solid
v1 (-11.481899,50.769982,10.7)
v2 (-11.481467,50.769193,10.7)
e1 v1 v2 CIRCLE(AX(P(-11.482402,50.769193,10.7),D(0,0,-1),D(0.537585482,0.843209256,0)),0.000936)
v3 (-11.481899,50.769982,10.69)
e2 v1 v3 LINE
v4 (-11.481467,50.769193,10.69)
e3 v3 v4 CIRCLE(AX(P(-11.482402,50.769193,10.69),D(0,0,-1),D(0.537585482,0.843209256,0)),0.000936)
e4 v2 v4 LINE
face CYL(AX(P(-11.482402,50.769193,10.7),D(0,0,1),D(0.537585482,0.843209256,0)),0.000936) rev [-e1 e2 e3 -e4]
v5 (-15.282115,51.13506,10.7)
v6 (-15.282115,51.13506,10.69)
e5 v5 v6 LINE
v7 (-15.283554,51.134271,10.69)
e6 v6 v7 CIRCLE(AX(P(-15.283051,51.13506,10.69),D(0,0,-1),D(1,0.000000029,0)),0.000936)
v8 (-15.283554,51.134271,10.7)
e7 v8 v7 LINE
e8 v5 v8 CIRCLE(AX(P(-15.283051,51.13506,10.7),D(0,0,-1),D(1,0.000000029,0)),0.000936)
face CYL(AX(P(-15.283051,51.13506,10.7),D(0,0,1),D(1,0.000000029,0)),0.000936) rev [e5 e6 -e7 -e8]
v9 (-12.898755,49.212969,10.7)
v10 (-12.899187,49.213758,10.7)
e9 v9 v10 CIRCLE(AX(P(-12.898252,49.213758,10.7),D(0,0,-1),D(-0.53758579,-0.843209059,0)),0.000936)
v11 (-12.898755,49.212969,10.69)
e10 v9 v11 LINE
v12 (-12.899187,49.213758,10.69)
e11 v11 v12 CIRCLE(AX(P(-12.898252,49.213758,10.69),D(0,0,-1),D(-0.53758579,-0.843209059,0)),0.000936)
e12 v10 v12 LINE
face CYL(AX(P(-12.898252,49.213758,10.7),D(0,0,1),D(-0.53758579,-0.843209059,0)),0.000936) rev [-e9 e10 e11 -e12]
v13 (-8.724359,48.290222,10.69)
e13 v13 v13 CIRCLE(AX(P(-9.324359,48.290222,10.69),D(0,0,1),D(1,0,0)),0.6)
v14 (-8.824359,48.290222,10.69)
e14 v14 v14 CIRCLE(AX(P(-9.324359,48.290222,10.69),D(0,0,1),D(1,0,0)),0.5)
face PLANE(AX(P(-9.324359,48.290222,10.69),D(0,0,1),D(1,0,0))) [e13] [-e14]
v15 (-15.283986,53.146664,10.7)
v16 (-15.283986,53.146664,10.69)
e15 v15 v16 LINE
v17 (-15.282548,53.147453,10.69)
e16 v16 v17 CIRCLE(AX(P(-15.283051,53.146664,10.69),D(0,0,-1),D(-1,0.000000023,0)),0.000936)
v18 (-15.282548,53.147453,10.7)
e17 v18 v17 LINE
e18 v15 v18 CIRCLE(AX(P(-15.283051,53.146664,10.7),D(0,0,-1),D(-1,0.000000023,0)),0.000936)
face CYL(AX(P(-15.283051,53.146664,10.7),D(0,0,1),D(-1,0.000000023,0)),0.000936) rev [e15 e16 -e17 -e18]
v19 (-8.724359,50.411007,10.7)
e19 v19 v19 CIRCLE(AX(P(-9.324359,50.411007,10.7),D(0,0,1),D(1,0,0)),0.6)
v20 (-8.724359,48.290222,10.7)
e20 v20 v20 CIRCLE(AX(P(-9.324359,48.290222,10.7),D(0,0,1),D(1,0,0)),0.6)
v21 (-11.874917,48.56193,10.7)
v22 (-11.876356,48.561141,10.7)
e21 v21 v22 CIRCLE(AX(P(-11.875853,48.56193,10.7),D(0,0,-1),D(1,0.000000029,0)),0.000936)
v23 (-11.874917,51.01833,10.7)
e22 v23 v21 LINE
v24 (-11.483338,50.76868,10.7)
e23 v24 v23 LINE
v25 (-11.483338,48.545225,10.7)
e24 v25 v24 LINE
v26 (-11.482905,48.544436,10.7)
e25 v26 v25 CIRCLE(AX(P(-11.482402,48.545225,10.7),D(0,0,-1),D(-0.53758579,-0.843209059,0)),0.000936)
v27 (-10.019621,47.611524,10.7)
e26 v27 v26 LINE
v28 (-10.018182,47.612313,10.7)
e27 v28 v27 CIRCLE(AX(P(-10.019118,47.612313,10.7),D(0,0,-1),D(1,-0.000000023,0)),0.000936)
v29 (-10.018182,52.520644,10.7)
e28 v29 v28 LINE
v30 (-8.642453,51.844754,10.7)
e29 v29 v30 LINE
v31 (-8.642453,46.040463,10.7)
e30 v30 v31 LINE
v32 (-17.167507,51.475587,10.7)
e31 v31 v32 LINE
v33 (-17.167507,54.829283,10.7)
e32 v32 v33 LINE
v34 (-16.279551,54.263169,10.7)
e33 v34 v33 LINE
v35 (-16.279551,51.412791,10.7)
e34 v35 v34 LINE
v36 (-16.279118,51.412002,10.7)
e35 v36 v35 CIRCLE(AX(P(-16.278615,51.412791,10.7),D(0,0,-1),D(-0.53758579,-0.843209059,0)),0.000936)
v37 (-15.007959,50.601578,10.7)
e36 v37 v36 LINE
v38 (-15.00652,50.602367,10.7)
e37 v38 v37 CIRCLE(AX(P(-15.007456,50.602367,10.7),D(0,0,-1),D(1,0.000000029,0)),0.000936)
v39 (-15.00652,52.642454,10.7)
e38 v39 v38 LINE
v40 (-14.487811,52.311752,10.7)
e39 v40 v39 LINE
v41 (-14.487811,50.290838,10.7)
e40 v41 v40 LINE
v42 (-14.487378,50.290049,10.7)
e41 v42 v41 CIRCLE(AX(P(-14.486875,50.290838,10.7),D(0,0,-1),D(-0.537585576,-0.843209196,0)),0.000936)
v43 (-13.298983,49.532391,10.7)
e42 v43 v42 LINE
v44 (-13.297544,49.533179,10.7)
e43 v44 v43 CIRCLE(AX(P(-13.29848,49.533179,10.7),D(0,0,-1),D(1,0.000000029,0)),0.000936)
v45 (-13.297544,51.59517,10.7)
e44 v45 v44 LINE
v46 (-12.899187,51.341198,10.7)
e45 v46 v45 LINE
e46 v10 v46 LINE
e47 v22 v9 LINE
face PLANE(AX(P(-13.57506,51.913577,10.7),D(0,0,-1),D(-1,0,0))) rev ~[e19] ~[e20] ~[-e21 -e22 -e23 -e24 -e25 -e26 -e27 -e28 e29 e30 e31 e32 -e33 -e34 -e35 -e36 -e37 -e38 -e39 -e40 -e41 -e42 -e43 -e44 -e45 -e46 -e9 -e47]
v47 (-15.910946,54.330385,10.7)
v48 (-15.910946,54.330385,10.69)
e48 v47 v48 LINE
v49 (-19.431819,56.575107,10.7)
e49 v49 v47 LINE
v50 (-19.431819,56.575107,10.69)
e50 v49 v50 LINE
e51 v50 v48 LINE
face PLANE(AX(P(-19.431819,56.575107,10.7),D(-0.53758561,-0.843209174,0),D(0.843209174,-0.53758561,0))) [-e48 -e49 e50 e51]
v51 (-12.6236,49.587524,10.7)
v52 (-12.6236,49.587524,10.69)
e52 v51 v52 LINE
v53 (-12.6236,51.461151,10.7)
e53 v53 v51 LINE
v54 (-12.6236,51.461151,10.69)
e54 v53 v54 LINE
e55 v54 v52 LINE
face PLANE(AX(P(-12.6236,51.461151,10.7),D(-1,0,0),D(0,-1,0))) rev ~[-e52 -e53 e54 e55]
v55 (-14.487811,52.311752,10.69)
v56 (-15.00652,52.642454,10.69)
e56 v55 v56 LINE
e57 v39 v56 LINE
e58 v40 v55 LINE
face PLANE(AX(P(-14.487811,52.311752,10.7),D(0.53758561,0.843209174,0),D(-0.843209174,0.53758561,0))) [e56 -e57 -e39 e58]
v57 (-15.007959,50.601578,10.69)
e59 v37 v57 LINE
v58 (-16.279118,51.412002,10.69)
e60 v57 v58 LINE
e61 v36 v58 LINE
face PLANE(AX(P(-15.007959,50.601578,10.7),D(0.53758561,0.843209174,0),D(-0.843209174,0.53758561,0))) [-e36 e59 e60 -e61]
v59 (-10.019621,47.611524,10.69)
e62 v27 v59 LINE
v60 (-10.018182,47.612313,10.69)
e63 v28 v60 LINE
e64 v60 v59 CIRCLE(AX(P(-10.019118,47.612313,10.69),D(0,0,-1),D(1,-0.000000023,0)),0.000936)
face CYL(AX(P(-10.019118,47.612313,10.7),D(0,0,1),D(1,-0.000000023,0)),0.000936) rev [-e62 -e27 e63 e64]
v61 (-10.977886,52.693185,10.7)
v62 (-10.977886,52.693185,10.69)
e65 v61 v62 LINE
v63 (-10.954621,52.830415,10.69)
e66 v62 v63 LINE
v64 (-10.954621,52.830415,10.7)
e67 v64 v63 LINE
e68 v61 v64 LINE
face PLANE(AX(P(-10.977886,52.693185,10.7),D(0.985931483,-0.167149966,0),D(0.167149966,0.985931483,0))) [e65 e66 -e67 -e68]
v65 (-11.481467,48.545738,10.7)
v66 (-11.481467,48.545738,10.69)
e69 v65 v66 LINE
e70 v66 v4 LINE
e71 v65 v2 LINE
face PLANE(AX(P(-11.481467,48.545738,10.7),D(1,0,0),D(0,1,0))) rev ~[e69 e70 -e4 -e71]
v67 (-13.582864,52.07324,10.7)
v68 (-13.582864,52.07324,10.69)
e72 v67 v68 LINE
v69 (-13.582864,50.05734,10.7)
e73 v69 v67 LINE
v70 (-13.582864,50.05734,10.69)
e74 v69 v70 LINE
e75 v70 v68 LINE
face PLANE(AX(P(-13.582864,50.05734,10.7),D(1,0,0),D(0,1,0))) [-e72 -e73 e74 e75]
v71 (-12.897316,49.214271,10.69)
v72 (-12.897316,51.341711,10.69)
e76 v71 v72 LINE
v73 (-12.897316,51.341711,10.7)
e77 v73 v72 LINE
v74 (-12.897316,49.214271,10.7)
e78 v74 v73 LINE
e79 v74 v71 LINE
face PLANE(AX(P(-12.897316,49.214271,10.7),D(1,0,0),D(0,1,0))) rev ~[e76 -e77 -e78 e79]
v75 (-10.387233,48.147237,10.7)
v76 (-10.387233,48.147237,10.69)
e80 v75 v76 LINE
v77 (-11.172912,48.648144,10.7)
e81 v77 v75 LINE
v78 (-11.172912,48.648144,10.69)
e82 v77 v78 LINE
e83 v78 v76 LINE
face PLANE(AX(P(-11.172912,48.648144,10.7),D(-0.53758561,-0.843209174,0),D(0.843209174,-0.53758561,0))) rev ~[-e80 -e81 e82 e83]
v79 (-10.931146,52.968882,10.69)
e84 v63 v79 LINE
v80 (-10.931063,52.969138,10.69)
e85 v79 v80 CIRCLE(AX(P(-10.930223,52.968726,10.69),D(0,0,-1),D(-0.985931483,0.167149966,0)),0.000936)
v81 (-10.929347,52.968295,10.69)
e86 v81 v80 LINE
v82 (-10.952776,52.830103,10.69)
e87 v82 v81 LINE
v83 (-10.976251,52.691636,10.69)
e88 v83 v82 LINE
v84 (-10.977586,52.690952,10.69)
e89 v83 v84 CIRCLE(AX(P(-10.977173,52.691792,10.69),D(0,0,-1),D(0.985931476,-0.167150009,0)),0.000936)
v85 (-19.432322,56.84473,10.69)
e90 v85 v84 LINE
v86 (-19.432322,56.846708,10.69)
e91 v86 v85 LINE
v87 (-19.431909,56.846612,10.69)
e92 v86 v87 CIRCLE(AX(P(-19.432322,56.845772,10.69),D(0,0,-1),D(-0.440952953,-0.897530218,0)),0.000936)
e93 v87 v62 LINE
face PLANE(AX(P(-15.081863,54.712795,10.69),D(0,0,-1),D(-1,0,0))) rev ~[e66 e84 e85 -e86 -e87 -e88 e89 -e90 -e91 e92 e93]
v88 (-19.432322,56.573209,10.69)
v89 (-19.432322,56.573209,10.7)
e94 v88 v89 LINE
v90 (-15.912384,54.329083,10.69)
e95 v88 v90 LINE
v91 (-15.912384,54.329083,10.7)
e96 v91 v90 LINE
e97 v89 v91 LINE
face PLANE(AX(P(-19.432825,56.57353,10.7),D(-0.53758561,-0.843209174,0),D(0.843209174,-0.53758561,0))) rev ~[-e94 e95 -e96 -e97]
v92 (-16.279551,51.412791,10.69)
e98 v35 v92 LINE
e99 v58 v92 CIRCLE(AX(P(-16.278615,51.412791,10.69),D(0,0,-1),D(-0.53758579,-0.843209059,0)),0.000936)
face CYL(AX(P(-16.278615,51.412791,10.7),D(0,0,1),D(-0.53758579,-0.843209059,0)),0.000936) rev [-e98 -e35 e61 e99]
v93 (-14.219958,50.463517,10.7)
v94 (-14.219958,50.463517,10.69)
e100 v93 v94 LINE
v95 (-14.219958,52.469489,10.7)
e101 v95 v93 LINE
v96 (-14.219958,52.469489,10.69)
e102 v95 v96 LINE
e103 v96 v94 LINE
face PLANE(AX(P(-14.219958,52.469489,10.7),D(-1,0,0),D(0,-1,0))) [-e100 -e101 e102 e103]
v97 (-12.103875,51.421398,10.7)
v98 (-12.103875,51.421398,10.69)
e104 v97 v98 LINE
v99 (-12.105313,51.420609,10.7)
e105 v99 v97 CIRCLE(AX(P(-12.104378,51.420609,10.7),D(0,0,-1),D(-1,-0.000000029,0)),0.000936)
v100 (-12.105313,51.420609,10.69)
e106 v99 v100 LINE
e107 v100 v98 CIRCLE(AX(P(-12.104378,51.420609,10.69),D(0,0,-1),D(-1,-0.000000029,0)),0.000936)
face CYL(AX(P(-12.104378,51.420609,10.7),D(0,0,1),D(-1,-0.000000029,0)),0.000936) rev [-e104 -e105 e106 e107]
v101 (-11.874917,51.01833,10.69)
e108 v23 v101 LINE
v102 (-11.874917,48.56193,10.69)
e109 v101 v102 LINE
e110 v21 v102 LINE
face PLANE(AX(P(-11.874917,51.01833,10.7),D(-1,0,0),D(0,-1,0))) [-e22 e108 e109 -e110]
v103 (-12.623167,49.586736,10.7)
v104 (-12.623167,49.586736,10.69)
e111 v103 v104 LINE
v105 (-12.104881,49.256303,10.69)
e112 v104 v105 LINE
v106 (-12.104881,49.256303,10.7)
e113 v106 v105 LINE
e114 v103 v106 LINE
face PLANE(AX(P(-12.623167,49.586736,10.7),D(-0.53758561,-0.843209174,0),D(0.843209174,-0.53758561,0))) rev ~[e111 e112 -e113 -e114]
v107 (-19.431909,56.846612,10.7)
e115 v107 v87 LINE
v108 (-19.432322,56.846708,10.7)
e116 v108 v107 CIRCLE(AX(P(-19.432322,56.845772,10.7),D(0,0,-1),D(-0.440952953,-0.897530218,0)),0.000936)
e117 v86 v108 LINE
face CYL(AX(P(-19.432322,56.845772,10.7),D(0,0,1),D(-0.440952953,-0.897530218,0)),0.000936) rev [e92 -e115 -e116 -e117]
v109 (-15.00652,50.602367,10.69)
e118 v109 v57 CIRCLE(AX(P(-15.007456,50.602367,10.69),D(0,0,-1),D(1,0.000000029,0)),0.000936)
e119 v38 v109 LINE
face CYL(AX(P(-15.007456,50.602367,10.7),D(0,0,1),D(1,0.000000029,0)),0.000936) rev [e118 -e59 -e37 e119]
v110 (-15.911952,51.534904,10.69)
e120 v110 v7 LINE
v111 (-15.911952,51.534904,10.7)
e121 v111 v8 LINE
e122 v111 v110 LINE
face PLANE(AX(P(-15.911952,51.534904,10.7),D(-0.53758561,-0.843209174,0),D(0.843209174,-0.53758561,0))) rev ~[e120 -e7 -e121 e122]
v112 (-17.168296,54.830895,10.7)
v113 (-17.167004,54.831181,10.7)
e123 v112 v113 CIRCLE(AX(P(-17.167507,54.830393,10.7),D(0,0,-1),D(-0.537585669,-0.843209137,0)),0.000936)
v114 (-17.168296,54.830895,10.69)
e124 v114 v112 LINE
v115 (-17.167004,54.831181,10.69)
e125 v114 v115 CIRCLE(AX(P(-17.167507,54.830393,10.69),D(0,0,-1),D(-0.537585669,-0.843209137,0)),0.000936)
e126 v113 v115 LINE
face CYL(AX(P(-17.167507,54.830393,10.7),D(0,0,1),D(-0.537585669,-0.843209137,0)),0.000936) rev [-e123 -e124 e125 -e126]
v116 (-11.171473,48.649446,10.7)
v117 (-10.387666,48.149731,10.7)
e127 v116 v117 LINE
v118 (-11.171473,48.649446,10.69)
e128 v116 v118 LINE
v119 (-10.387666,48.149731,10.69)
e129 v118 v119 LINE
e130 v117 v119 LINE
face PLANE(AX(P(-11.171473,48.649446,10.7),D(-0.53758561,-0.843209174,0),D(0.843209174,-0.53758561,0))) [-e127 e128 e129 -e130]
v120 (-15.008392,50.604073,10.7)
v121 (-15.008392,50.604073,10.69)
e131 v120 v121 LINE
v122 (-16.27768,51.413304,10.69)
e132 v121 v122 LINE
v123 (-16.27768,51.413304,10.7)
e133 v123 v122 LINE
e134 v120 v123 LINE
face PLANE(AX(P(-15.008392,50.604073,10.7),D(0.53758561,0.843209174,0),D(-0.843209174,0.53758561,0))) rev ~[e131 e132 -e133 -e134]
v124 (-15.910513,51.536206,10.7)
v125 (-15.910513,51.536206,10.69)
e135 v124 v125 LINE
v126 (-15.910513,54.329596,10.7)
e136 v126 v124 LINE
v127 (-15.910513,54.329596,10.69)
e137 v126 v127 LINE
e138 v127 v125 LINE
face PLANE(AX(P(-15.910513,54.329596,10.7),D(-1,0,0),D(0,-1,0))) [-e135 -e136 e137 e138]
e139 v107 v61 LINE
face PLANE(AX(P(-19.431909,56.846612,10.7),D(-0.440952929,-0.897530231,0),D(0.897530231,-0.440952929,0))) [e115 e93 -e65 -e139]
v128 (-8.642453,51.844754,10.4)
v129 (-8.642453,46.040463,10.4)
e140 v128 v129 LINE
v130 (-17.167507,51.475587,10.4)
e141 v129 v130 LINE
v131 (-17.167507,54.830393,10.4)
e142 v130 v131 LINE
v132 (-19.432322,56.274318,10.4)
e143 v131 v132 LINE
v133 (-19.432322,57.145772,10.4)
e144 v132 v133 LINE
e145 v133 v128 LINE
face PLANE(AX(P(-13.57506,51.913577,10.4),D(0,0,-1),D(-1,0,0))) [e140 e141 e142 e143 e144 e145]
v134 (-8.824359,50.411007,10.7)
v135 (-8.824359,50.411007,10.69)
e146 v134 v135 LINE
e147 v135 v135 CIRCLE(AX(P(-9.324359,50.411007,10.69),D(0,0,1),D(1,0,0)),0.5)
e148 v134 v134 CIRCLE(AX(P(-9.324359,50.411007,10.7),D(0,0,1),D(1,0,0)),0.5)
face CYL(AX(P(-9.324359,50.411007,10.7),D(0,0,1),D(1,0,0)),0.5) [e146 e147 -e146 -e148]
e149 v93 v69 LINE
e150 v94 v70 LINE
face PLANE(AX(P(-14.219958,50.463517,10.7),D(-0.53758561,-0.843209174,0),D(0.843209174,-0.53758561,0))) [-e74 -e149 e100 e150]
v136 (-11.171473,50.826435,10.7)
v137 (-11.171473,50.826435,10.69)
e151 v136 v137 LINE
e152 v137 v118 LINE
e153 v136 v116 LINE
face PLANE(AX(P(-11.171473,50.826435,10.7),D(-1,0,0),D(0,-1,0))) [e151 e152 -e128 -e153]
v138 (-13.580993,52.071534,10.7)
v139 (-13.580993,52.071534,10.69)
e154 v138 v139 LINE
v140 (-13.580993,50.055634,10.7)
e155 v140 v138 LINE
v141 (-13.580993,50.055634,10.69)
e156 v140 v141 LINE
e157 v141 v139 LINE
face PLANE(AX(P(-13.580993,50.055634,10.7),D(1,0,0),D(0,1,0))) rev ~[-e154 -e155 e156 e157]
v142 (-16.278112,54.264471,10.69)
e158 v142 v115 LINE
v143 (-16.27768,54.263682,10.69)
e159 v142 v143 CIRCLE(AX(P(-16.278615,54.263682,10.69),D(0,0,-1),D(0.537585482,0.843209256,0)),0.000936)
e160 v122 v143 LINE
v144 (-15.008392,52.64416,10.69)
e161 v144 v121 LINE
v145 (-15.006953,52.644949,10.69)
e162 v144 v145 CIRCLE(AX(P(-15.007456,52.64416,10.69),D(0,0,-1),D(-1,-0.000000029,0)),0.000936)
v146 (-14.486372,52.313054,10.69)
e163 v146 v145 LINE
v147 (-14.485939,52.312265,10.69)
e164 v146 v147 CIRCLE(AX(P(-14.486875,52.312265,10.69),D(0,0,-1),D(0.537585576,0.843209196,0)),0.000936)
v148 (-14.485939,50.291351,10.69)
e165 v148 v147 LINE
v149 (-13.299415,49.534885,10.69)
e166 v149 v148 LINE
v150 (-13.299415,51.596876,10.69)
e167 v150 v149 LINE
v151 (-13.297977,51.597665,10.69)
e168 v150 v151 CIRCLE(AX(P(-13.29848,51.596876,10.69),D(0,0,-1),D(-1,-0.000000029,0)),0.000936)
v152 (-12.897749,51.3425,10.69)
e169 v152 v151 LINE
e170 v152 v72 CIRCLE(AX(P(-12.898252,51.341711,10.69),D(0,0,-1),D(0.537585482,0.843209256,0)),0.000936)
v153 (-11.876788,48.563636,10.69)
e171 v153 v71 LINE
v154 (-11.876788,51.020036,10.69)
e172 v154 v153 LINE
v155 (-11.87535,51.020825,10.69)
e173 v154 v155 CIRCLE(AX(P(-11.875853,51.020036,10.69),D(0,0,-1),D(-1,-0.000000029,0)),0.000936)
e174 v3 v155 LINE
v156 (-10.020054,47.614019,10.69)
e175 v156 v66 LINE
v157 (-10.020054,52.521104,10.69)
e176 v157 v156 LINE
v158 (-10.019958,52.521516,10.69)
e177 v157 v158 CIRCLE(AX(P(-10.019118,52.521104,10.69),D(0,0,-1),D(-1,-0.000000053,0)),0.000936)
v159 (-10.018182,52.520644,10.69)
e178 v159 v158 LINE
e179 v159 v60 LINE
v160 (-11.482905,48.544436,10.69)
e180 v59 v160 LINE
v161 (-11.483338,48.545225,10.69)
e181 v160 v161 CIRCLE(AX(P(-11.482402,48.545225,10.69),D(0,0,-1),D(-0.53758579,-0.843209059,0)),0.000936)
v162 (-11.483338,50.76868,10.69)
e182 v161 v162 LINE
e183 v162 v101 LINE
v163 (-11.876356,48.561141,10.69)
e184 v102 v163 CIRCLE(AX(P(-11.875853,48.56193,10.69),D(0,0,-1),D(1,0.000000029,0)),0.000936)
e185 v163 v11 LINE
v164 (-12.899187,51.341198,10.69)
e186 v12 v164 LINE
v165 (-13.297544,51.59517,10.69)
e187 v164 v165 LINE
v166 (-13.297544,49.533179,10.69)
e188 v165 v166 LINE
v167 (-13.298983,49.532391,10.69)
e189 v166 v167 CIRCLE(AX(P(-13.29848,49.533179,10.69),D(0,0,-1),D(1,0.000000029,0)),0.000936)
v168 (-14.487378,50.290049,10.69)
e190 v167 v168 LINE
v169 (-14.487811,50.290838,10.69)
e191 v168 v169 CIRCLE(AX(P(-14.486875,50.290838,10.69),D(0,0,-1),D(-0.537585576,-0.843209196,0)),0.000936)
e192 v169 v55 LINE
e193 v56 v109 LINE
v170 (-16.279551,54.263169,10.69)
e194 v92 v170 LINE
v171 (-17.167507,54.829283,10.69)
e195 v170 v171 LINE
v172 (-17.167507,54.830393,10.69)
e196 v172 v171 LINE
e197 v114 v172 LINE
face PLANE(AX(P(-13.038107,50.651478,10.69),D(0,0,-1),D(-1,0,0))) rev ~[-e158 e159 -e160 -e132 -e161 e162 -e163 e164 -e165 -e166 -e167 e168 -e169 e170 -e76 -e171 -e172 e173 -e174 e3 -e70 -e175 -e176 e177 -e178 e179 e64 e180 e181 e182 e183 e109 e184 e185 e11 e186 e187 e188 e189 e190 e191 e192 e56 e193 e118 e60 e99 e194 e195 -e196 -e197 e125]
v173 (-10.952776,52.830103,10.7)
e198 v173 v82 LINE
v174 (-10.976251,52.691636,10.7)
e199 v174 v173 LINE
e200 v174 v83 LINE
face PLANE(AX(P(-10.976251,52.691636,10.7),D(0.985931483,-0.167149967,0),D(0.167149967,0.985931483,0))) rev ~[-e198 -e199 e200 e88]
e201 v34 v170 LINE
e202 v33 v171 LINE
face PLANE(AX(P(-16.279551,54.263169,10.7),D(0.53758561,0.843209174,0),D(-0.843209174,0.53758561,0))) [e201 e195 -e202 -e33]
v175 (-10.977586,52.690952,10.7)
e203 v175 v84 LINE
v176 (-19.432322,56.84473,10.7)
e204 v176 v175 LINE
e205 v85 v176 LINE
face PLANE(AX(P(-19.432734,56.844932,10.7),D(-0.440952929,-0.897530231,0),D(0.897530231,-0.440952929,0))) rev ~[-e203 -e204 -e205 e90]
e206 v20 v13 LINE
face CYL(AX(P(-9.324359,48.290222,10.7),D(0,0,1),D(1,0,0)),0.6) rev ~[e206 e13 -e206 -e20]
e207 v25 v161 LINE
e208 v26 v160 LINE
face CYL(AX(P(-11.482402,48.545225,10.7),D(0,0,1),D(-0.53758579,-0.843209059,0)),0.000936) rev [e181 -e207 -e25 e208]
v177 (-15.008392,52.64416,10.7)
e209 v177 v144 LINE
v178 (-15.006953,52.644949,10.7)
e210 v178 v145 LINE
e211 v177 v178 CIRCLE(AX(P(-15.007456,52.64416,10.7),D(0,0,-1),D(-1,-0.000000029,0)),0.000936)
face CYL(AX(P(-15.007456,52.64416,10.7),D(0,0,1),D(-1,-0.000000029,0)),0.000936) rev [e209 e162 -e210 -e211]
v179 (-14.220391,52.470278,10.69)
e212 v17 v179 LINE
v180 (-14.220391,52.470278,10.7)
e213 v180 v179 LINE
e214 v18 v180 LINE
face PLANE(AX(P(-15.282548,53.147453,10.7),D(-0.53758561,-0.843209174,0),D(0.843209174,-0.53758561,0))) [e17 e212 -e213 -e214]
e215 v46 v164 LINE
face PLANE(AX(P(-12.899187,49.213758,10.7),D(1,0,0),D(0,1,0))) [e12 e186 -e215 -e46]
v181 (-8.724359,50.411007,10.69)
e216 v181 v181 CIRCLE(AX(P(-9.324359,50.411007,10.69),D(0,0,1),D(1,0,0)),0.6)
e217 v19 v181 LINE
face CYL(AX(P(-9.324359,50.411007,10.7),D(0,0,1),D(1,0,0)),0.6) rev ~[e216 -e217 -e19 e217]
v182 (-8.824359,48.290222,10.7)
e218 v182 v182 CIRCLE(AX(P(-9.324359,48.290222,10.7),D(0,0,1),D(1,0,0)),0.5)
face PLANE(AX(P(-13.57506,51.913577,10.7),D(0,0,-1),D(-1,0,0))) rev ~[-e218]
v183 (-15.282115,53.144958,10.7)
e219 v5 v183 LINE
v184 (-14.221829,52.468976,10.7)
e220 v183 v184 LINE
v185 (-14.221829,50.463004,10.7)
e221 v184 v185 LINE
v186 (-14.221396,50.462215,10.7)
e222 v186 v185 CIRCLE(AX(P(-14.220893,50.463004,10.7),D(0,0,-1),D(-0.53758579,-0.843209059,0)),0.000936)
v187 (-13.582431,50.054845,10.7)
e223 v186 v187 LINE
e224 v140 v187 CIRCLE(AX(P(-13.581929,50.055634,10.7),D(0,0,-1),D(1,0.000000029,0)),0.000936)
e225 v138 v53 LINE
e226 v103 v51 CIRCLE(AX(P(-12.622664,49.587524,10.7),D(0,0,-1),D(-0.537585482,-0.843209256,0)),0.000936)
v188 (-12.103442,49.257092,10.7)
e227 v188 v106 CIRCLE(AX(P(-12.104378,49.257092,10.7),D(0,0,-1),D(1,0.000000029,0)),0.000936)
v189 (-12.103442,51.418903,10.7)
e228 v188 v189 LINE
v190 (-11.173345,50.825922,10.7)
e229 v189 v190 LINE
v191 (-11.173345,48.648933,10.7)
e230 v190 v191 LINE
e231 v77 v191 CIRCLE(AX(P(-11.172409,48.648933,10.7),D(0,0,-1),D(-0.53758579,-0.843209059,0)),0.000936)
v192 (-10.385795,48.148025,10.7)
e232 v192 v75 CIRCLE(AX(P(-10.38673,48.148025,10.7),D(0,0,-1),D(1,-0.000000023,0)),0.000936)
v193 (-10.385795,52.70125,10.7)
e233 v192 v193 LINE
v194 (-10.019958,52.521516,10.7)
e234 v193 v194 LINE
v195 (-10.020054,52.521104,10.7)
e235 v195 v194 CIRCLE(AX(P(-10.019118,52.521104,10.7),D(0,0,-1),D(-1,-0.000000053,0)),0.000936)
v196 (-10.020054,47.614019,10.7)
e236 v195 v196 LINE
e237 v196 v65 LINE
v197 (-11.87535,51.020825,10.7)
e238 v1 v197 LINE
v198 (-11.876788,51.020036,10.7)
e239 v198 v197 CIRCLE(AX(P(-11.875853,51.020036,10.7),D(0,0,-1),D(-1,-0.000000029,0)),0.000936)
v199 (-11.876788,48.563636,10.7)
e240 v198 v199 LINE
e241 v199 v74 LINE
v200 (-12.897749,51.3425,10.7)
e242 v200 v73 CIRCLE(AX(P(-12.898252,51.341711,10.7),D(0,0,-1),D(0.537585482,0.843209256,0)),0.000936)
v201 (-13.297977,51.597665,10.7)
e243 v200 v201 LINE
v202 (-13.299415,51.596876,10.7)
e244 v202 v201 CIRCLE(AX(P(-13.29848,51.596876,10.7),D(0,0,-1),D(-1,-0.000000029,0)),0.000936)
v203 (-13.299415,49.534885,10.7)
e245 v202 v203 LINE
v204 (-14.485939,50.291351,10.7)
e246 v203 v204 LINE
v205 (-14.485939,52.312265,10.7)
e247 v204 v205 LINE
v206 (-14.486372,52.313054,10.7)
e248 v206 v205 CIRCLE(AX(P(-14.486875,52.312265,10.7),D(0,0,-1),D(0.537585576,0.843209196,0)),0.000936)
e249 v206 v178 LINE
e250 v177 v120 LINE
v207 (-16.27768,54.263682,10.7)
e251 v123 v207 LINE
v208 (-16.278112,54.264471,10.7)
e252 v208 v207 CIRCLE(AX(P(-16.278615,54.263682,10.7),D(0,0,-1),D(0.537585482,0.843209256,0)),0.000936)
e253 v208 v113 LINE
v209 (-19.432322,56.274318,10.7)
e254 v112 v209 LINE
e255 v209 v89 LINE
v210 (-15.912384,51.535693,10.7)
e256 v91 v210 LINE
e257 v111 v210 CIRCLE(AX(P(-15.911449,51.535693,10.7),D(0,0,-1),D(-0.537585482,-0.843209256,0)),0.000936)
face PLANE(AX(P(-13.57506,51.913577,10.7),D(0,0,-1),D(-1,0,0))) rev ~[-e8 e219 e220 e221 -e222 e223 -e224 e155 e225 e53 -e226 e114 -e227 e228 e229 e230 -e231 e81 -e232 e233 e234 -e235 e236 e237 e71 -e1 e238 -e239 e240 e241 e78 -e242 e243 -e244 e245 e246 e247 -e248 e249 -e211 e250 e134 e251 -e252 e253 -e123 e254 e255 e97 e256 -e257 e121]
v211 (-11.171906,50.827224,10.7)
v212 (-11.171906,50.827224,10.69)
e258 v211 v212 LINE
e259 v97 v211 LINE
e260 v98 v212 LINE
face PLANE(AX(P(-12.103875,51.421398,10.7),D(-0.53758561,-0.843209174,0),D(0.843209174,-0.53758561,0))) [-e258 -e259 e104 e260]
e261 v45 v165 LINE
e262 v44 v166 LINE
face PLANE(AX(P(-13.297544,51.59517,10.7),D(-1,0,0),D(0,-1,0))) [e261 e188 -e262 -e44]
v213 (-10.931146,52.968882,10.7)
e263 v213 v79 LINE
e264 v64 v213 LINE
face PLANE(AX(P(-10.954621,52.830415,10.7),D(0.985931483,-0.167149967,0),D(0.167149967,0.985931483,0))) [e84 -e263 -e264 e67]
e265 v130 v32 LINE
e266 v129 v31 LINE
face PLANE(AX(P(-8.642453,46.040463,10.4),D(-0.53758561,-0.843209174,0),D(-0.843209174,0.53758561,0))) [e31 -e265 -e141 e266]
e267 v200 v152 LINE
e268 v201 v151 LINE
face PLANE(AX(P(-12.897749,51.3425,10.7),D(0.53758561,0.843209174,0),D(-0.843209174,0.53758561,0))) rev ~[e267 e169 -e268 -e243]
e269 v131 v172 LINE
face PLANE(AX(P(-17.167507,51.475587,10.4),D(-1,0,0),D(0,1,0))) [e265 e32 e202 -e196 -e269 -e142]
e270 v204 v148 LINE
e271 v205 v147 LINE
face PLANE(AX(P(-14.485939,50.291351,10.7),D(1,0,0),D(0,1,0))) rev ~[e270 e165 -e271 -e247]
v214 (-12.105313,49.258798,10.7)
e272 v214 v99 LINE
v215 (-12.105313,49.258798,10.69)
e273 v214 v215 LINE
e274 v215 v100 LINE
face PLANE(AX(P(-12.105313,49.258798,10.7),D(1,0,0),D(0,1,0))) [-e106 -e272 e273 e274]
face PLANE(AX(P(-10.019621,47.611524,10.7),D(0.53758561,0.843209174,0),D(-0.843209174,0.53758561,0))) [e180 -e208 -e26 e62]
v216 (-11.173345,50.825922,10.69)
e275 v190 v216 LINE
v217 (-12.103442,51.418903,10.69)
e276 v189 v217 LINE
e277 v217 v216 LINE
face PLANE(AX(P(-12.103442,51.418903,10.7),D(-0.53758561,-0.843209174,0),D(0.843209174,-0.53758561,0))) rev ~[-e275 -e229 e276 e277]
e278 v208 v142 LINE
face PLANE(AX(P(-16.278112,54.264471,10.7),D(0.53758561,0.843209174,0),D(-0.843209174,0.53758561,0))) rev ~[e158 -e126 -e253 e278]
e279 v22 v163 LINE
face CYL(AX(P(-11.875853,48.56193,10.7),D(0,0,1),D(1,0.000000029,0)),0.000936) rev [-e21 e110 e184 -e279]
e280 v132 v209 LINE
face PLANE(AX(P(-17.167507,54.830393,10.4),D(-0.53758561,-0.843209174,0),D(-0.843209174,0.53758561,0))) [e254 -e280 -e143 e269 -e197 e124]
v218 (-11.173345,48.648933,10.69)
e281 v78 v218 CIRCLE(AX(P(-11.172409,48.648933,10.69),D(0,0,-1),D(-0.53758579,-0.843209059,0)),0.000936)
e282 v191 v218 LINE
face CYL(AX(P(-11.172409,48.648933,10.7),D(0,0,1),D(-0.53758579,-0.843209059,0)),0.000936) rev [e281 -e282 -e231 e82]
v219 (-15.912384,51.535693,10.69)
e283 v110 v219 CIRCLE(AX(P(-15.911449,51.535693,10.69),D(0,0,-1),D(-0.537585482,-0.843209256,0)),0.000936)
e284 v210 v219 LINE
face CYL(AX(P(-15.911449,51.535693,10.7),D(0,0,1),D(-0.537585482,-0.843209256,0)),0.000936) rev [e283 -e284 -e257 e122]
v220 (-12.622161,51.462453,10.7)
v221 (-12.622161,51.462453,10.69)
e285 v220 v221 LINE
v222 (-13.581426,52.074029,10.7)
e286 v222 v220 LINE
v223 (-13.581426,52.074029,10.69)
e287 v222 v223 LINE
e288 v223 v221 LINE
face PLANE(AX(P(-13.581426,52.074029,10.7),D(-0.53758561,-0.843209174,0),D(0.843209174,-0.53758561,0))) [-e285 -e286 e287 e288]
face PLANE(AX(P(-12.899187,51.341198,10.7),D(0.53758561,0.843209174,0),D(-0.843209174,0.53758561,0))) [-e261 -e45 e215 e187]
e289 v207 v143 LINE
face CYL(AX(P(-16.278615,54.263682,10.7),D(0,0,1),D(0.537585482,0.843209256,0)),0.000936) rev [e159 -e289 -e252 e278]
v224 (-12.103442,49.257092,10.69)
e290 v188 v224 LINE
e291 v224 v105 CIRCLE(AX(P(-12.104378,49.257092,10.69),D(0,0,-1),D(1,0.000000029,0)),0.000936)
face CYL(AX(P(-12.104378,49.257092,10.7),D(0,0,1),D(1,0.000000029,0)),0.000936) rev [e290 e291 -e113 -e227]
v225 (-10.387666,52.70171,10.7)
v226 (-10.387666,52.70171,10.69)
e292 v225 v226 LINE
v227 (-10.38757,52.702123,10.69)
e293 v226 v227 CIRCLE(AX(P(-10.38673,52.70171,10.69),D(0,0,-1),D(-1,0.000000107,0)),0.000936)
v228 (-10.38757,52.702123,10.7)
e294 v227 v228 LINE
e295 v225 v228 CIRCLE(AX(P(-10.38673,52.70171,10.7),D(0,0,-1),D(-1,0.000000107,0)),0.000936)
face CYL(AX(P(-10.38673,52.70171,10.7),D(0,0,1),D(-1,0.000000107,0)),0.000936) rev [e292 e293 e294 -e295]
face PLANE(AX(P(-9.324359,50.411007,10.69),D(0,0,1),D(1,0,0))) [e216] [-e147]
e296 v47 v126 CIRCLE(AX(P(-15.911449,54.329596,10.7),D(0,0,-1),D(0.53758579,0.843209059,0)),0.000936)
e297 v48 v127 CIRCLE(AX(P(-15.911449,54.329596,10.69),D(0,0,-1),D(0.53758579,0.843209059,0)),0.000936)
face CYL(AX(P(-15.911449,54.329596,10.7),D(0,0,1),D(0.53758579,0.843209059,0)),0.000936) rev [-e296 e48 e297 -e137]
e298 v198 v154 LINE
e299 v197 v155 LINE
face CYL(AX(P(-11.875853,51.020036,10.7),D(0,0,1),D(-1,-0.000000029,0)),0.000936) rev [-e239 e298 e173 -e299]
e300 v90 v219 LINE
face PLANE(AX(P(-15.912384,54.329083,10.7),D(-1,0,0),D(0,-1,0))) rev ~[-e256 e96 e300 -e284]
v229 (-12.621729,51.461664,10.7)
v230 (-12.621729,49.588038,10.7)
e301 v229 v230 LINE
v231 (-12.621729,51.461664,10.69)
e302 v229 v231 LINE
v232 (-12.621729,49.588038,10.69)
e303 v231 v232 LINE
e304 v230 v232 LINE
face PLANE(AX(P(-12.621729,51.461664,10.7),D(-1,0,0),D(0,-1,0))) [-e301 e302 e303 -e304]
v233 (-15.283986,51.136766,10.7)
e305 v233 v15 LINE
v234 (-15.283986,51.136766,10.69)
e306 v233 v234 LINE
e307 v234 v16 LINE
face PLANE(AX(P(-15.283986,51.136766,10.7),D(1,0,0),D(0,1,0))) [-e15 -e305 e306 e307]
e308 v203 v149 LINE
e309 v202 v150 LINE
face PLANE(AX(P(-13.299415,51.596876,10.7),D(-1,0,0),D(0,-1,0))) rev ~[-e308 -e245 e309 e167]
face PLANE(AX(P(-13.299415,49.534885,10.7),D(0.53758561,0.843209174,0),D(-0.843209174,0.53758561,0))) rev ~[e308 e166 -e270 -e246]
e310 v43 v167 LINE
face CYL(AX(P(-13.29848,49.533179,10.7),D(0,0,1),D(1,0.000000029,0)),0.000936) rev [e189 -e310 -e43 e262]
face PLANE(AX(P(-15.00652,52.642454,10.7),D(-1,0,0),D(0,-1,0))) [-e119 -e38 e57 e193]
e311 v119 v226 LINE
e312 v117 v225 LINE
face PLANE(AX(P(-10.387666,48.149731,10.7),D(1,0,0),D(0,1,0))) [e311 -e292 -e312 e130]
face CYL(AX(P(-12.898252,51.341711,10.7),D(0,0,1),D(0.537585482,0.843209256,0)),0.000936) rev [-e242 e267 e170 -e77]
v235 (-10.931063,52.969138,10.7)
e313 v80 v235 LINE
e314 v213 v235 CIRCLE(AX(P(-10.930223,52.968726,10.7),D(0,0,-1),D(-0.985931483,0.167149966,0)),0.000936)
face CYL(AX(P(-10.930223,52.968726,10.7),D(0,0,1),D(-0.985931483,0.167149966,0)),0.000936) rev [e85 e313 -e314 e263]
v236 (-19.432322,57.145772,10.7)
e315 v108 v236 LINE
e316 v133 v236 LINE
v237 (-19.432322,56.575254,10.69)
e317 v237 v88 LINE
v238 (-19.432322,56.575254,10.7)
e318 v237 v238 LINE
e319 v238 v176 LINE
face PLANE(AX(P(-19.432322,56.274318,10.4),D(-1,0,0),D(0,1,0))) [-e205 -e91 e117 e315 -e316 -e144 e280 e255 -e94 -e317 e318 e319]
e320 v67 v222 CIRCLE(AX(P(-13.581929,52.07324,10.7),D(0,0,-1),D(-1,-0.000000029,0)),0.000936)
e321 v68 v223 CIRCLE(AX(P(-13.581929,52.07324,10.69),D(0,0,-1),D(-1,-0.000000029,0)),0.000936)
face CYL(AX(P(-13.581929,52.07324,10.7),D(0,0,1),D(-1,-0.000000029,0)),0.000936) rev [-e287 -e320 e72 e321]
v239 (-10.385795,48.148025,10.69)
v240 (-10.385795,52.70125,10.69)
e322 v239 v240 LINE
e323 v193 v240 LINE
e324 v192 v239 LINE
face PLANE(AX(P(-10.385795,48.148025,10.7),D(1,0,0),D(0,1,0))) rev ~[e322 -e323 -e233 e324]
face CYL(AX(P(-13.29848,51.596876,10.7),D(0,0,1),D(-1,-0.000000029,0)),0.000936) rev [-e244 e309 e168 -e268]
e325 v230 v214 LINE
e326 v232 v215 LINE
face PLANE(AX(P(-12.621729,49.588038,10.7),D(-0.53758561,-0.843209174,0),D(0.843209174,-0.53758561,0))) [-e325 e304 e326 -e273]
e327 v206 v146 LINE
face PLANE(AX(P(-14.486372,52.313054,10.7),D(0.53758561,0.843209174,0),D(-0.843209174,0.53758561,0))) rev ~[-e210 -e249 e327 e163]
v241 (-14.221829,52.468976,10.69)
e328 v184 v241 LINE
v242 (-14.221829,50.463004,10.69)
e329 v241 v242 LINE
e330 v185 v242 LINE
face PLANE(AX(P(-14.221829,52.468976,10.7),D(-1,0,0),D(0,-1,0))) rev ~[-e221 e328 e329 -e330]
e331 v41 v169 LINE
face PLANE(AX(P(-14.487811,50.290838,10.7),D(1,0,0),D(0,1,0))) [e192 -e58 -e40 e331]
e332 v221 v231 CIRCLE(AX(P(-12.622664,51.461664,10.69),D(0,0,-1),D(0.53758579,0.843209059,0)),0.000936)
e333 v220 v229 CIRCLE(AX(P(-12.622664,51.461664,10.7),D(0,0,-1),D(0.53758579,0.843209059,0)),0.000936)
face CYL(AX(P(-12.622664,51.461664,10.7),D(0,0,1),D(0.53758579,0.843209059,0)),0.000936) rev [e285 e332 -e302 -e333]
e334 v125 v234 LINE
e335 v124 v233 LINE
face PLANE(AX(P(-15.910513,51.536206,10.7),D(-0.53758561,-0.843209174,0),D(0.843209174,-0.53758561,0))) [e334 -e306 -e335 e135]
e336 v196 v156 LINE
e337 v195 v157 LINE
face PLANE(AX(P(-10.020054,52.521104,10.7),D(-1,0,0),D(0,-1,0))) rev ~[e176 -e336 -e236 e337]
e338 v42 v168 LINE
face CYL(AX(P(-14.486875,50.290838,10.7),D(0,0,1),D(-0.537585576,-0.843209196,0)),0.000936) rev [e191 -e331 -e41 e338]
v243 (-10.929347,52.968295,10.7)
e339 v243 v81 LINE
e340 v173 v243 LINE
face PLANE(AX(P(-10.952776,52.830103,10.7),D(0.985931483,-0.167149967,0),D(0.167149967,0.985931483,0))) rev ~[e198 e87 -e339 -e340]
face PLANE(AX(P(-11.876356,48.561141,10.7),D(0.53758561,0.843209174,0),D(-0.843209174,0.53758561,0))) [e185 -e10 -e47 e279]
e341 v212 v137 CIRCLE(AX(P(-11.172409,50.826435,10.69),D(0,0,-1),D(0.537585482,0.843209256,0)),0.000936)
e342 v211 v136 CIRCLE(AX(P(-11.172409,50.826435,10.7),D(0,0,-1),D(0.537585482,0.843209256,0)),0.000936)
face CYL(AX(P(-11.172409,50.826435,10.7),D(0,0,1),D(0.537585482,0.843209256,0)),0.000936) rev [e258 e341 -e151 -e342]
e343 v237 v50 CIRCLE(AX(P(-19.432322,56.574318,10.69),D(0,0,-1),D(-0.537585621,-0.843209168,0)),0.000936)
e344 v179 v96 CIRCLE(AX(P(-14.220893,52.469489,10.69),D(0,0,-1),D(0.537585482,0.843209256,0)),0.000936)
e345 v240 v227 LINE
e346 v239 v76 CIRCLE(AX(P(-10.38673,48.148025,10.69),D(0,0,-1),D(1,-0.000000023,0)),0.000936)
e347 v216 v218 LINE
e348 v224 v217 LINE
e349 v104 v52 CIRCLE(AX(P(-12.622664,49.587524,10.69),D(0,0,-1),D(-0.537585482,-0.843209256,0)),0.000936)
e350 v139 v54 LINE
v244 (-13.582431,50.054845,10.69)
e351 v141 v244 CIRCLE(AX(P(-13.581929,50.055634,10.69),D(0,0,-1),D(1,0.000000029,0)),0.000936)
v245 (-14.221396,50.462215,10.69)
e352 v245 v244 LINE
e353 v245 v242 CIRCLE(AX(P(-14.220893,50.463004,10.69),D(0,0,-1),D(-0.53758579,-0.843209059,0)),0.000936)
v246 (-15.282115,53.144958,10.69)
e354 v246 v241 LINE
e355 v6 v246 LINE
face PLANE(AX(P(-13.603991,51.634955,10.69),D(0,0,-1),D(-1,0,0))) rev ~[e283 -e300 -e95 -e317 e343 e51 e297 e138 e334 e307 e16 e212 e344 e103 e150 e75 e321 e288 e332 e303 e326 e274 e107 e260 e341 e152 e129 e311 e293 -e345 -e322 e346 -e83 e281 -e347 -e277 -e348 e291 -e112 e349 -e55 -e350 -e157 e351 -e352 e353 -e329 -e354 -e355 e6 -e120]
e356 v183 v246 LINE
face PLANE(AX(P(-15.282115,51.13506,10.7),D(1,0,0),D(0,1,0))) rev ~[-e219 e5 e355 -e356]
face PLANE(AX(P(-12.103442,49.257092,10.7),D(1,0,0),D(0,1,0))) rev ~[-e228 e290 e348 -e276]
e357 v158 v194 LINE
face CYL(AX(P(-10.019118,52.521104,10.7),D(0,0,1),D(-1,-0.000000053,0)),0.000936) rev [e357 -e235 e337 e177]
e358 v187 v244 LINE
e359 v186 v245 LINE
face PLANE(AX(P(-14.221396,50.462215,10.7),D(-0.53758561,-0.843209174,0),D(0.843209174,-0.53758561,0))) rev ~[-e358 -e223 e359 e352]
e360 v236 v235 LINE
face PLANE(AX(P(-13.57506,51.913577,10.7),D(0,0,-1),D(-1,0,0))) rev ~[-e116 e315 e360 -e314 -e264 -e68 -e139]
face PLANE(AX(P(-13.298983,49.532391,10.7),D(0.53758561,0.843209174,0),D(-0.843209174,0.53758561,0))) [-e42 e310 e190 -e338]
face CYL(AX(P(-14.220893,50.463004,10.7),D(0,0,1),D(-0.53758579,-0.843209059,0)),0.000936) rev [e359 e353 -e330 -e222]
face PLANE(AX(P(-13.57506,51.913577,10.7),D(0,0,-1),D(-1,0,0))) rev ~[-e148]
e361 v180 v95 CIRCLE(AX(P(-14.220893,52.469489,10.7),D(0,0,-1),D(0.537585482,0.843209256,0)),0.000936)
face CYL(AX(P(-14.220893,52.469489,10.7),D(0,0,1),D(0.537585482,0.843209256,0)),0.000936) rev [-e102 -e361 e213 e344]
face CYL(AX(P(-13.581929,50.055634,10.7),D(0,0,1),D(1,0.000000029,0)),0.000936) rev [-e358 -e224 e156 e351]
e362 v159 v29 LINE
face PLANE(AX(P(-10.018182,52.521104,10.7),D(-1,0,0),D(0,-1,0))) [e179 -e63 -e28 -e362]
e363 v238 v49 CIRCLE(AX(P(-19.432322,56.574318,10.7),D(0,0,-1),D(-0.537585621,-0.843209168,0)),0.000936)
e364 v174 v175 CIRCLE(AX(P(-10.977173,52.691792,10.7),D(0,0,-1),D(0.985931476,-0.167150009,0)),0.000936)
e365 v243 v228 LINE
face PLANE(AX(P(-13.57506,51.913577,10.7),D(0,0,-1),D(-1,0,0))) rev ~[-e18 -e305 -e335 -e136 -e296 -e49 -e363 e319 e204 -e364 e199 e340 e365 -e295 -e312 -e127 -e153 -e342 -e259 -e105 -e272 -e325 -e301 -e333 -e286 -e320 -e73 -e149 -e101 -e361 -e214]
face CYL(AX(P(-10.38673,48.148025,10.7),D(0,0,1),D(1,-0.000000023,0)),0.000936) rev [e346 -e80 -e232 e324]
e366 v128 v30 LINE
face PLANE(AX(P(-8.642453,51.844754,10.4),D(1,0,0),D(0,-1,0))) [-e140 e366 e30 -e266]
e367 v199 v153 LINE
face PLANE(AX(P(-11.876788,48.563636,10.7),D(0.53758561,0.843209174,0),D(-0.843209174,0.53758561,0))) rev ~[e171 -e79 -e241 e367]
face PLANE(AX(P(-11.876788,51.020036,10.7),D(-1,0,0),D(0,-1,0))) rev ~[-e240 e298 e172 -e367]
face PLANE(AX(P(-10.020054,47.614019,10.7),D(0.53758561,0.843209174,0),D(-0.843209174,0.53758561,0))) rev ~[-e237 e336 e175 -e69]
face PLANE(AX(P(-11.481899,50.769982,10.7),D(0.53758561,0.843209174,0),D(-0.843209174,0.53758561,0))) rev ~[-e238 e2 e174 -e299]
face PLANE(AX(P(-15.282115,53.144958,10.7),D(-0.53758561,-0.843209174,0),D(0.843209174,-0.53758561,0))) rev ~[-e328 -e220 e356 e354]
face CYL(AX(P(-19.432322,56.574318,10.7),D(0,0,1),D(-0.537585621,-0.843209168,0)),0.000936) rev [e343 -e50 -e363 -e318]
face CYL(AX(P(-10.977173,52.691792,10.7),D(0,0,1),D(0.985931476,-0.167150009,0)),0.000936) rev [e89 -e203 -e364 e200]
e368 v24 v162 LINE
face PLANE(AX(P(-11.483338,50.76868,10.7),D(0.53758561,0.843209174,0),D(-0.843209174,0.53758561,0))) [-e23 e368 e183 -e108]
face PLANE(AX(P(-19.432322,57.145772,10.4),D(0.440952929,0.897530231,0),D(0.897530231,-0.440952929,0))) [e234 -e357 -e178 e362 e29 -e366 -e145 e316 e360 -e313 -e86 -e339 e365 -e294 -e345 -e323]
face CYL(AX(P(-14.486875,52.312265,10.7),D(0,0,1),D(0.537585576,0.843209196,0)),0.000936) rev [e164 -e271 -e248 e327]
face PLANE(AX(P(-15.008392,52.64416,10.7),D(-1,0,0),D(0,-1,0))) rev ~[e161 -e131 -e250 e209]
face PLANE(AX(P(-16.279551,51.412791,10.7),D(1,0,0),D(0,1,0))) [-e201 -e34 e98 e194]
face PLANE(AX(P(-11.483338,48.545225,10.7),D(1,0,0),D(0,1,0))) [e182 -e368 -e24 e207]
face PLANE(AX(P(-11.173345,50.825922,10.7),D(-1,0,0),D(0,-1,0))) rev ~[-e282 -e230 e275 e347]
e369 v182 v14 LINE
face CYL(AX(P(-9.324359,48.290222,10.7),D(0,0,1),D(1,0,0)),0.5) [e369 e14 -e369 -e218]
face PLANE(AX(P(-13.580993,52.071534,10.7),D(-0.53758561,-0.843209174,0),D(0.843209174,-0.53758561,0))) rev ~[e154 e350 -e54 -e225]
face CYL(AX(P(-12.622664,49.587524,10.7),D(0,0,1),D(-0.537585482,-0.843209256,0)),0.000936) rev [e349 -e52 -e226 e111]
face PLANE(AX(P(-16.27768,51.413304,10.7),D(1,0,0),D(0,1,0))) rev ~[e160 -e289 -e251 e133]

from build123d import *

# Parameters (mm, degrees)
PAD003_DEPTH    = 0.3
POCKET010_DEPTH = 0.01
SKETCH013_R     = 0.6
SKETCH013_R_2   = 0.5
POCKET011_DEPTH = 0.01


with BuildPart() as part:
    # Sketch011 (on Face1 of Binder003) → Pad003 (new body)
    with BuildSketch(Plane.XY.offset(10.4)):
        Polygon((-19.4323216564, 57.1457720205), (-8.6424528439, 51.8447536362), (-8.6424528439, 46.0404628521), (-17.1675073393, 51.475587093), (-17.1675073393, 54.8303925061), (-19.4323216564, 56.2743184309), align=None)
    extrude(amount=PAD003_DEPTH)

    # Sketch012 (on Face8 of Pad003) → Pocket010 (cut)
    with BuildSketch(Plane.XY.offset(10.7)):
        with BuildLine():
            ThreePointArc((-17.1680102852, 54.8296036297), (-17.1682962157, 54.830895452), (-17.1670043933, 54.8311813826))
            Line((-16.2781124515, 54.2644708538), (-17.1670043933, 54.8311813826))
            ThreePointArc((-16.2781124515, 54.2644708538), (-16.2777950868, 54.2641318342), (-16.2776798331, 54.2636819774))
            Line((-16.2776798331, 51.4133038281), (-16.2776798331, 54.2636819774))
            Line((-15.0083915015, 50.6040726633), (-16.2776798331, 51.4133038281))
            Line((-15.0083915015, 52.6441603332), (-15.0083915015, 50.6040726633))
            ThreePointArc((-15.0083915015, 52.6441603332), (-15.007905794, 52.6449806438), (-15.0069529912, 52.6449492096))
            Line((-14.4863721114, 52.3130543507), (-15.0069529912, 52.6449492096))
            ThreePointArc((-14.4863721114, 52.3130543507), (-14.4860547467, 52.3127153311), (-14.4859394929, 52.3122654742))
            Line((-14.4859394929, 50.2913505742), (-14.4859394929, 52.3122654742))
            Line((-13.2994153548, 49.5348854854), (-14.4859394929, 50.2913505742))
            Line((-13.2994153548, 51.5968758055), (-13.2994153548, 49.5348854854))
            ThreePointArc((-13.2994153548, 51.5968758055), (-13.2989296473, 51.5976961161), (-13.2979768445, 51.5976646819))
            Line((-12.8977486949, 51.3425003638), (-13.2979768445, 51.5976646819))
            ThreePointArc((-12.8977486949, 51.3425003638), (-12.8974313302, 51.3421613442), (-12.8973160765, 51.3417114873))
            Line((-12.8973160765, 49.2142707243), (-12.8973160765, 51.3417114873))
            Line((-11.8767881569, 48.5636360524), (-12.8973160765, 49.2142707243))
            Line((-11.8767881569, 51.0200362699), (-11.8767881569, 48.5636360524))
            ThreePointArc((-11.8767881569, 51.0200362699), (-11.8763024494, 51.0208565805), (-11.8753496466, 51.0208251463))
            Line((-11.4818992574, 50.76998197), (-11.8753496466, 51.0208251463))
            ThreePointArc((-11.4818992574, 50.76998197), (-11.4815818927, 50.7696429504), (-11.481466639, 50.7691930936))
            Line((-11.481466639, 48.5457383169), (-11.481466639, 50.7691930936))
            Line((-10.0200536237, 47.6140186066), (-11.481466639, 48.5457383169))
            Line((-10.0200536237, 52.5211036218), (-10.0200536237, 47.6140186066))
            ThreePointArc((-10.0200536237, 52.5211036218), (-10.0191180594, 52.5220391862), (-10.018182495, 52.5211036218))
            Line((-10.018182495, 52.5211036218), (-10.018182495, 47.612312612))
            ThreePointArc((-10.018182495, 47.612312612), (-10.0186682025, 47.6114923014), (-10.0196210053, 47.6115237355))
            Line((-10.0196210053, 47.6115237355), (-11.4829051493, 48.5444363786))
            ThreePointArc((-11.4829051493, 48.5444363786), (-11.4832225139, 48.5447753982), (-11.4833377677, 48.5452252551))
            Line((-11.4833377677, 48.5452252551), (-11.4833377677, 50.7686800318))
            Line((-11.4833377677, 50.7686800318), (-11.8749170282, 51.0183302753))
            Line((-11.8749170282, 51.0183302753), (-11.8749170282, 48.5619300578))
            ThreePointArc((-11.8749170282, 48.5619300578), (-11.8754027357, 48.5611097472), (-11.8763555385, 48.5611411814))
            Line((-11.8763555385, 48.5611411814), (-12.8987545868, 49.212968786))
            ThreePointArc((-12.8987545868, 49.212968786), (-12.8990719514, 49.2133078056), (-12.8991872052, 49.2137576625))
            Line((-12.8991872052, 49.2137576625), (-12.8991872052, 51.3411984255))
            Line((-12.8991872052, 51.3411984255), (-13.2975442261, 51.5951698109))
            Line((-13.2975442261, 51.5951698109), (-13.2975442261, 49.5331794908))
            ThreePointArc((-13.2975442261, 49.5331794908), (-13.2980299336, 49.5323591802), (-13.2989827364, 49.5323906144))
            Line((-13.2989827364, 49.5323906144), (-14.4873780032, 50.290048636))
            ThreePointArc((-14.4873780032, 50.290048636), (-14.4876953679, 50.2903876556), (-14.4878106217, 50.2908375124))
            Line((-14.4878106217, 50.2908375124), (-14.4878106217, 52.3117524124))
            Line((-14.4878106217, 52.3117524124), (-15.0065203728, 52.6424543386))
            Line((-15.0065203728, 52.6424543386), (-15.0065203728, 50.6023666687))
            ThreePointArc((-15.0065203728, 50.6023666687), (-15.0070060803, 50.6015463581), (-15.0079588831, 50.6015777923))
            Line((-15.0079588831, 50.6015777923), (-16.2791183434, 51.4120018899))
            ThreePointArc((-16.2791183434, 51.4120018899), (-16.279435708, 51.4123409095), (-16.2795509618, 51.4127907663))
            Line((-16.2795509618, 51.4127907663), (-16.2795509618, 54.2631689156))
            Line((-16.2795509618, 54.2631689156), (-17.1680102852, 54.8296036297))
        make_face()
        with BuildLine():
            ThreePointArc((-12.1034421253, 49.2570922966), (-12.1039278328, 49.256271986), (-12.1048806356, 49.2563034202))
            Line((-12.6231672786, 49.586735595), (-12.1048806356, 49.2563034202))
            ThreePointArc((-12.6231672786, 49.586735595), (-12.6234846433, 49.5870746146), (-12.623599897, 49.5875244715))
            Line((-12.623599897, 51.4611507189), (-12.623599897, 49.5875244715))
            Line((-13.5809929357, 52.0715339271), (-12.623599897, 51.4611507189))
            Line((-13.5809929357, 50.0556339524), (-13.5809929357, 52.0715339271))
            ThreePointArc((-13.5809929357, 50.0556339524), (-13.5814786432, 50.0548136418), (-13.582431446, 50.054845076))
            Line((-14.2213964306, 50.4622153841), (-13.582431446, 50.054845076))
            ThreePointArc((-14.2213964306, 50.4622153841), (-14.2217137952, 50.4625544037), (-14.221829049, 50.4630042606))
            Line((-14.221829049, 52.4689756862), (-14.221829049, 50.4630042606))
            Line((-15.2821151216, 53.1449580554), (-14.221829049, 52.4689756862))
            Line((-15.2821151216, 51.1350597086), (-15.2821151216, 53.1449580554))
            ThreePointArc((-15.2821151216, 51.1350597086), (-15.2826008291, 51.134239398), (-15.2835536319, 51.1342708322))
            Line((-15.9119518491, 51.5349043279), (-15.2835536319, 51.1342708322))
            ThreePointArc((-15.9119518491, 51.5349043279), (-15.9122692138, 51.5352433475), (-15.9123844675, 51.5356932043))
            Line((-15.9123844675, 54.3290829617), (-15.9123844675, 51.5356932043))
            Line((-19.4328246024, 56.5735295545), (-15.9123844675, 54.3290829617))
            ThreePointArc((-19.4328246024, 56.5735295545), (-19.4331105329, 56.5748213769), (-19.4318187105, 56.5751073074))
            Line((-19.4318187105, 56.5751073074), (-15.9109459572, 54.3303848999))
            ThreePointArc((-15.9109459572, 54.3303848999), (-15.9106285926, 54.3300458803), (-15.9105133388, 54.3295960235))
            Line((-15.9105133388, 54.3295960235), (-15.9105133388, 51.5362062661))
            Line((-15.9105133388, 51.5362062661), (-15.2839862503, 51.1367657032))
            Line((-15.2839862503, 51.1367657032), (-15.2839862503, 53.14666405))
            ThreePointArc((-15.2839862503, 53.14666405), (-15.2835005428, 53.1474843606), (-15.28254774, 53.1474529265))
            Line((-15.28254774, 53.1474529265), (-14.2203905387, 52.4702776245))
            ThreePointArc((-14.2203905387, 52.4702776245), (-14.220073174, 52.4699386049), (-14.2199579203, 52.469488748))
            Line((-14.2199579203, 52.469488748), (-14.2199579203, 50.4635173224))
            Line((-14.2199579203, 50.4635173224), (-13.5828640644, 50.057339947))
            Line((-13.5828640644, 50.057339947), (-13.5828640644, 52.0732399217))
            ThreePointArc((-13.5828640644, 52.0732399217), (-13.5823783569, 52.0740602323), (-13.5814255541, 52.0740287981))
            Line((-13.5814255541, 52.0740287981), (-12.6221613867, 51.4624526572))
            ThreePointArc((-12.6221613867, 51.4624526572), (-12.6218440221, 51.4621136376), (-12.6217287683, 51.4616637807))
            Line((-12.6217287683, 51.4616637807), (-12.6217287683, 49.5880375333))
            Line((-12.6217287683, 49.5880375333), (-12.105313254, 49.2587982912))
            Line((-12.105313254, 49.2587982912), (-12.105313254, 51.4206091267))
            ThreePointArc((-12.105313254, 51.4206091267), (-12.1048275465, 51.4214294373), (-12.1038747437, 51.4213980031))
            Line((-12.1038747437, 51.4213980031), (-11.1719060657, 50.8272240238))
            ThreePointArc((-11.1719060657, 50.8272240238), (-11.171588701, 50.8268850042), (-11.1714734473, 50.8264351473))
            Line((-11.1714734473, 50.8264351473), (-11.1714734473, 48.649445714))
            Line((-11.1714734473, 48.649445714), (-10.387665926, 48.1497314586))
            Line((-10.387665926, 48.1497314586), (-10.387665926, 52.7017100413))
            ThreePointArc((-10.387665926, 52.7017100413), (-10.3867303616, 52.7026456056), (-10.3857947972, 52.7017100413))
            Line((-10.3857947972, 48.148025464), (-10.3857947972, 52.7017100413))
            ThreePointArc((-10.3857947972, 48.148025464), (-10.3862805047, 48.1472051534), (-10.3872333075, 48.1472365875))
            Line((-11.1729119576, 48.6481437757), (-10.3872333075, 48.1472365875))
            ThreePointArc((-11.1729119576, 48.6481437757), (-11.1732293222, 48.6484827953), (-11.173344576, 48.6489326522))
            Line((-11.173344576, 50.8259220855), (-11.173344576, 48.6489326522))
            Line((-12.1034421253, 51.4189031321), (-11.173344576, 50.8259220855))
            Line((-12.1034421253, 49.2570922966), (-12.1034421253, 51.4189031321))
        make_face()
        with BuildLine():
            ThreePointArc((-10.9311455672, 52.9688822106), (-10.9300667853, 52.9696482334), (-10.9293007625, 52.9685694515))
            Line((-10.9527757478, 52.8301026156), (-10.9293007625, 52.9685694515))
            Line((-10.976250733, 52.6916357798), (-10.9527757478, 52.8301026156))
            ThreePointArc((-10.976250733, 52.6916357798), (-10.9767468482, 52.6909593569), (-10.9775856752, 52.690952462))
            Line((-19.4327341963, 56.8449323232), (-10.9775856752, 52.690952462))
            ThreePointArc((-19.4327341963, 56.8449323232), (-19.4331613537, 56.8461845604), (-19.4319091166, 56.8466117178))
            Line((-19.4319091166, 56.8466117178), (-10.9778859578, 52.6931847425))
            Line((-10.9778859578, 52.6931847425), (-10.9546205525, 52.8304153747))
            Line((-10.9546205525, 52.8304153747), (-10.9311455672, 52.9688822106))
        make_face()
    extrude(amount=-POCKET010_DEPTH, mode=Mode.SUBTRACT)

    # Sketch013 (on Face4 of Pocket010) → Pocket011 (cut)
    with BuildSketch(Plane.XY.offset(10.7)):
        with Locations((-9.324359, 50.411007)):
            Circle(SKETCH013_R)
        with Locations((-9.324359, 50.411007)):
            Circle(SKETCH013_R_2, mode=Mode.SUBTRACT)
        with Locations((-9.324359, 48.290222)):
            Circle(SKETCH013_R)
        with Locations((-9.324359, 48.290222)):
            Circle(SKETCH013_R_2, mode=Mode.SUBTRACT)
    extrude(amount=-POCKET011_DEPTH, mode=Mode.SUBTRACT)


solid = part.part
